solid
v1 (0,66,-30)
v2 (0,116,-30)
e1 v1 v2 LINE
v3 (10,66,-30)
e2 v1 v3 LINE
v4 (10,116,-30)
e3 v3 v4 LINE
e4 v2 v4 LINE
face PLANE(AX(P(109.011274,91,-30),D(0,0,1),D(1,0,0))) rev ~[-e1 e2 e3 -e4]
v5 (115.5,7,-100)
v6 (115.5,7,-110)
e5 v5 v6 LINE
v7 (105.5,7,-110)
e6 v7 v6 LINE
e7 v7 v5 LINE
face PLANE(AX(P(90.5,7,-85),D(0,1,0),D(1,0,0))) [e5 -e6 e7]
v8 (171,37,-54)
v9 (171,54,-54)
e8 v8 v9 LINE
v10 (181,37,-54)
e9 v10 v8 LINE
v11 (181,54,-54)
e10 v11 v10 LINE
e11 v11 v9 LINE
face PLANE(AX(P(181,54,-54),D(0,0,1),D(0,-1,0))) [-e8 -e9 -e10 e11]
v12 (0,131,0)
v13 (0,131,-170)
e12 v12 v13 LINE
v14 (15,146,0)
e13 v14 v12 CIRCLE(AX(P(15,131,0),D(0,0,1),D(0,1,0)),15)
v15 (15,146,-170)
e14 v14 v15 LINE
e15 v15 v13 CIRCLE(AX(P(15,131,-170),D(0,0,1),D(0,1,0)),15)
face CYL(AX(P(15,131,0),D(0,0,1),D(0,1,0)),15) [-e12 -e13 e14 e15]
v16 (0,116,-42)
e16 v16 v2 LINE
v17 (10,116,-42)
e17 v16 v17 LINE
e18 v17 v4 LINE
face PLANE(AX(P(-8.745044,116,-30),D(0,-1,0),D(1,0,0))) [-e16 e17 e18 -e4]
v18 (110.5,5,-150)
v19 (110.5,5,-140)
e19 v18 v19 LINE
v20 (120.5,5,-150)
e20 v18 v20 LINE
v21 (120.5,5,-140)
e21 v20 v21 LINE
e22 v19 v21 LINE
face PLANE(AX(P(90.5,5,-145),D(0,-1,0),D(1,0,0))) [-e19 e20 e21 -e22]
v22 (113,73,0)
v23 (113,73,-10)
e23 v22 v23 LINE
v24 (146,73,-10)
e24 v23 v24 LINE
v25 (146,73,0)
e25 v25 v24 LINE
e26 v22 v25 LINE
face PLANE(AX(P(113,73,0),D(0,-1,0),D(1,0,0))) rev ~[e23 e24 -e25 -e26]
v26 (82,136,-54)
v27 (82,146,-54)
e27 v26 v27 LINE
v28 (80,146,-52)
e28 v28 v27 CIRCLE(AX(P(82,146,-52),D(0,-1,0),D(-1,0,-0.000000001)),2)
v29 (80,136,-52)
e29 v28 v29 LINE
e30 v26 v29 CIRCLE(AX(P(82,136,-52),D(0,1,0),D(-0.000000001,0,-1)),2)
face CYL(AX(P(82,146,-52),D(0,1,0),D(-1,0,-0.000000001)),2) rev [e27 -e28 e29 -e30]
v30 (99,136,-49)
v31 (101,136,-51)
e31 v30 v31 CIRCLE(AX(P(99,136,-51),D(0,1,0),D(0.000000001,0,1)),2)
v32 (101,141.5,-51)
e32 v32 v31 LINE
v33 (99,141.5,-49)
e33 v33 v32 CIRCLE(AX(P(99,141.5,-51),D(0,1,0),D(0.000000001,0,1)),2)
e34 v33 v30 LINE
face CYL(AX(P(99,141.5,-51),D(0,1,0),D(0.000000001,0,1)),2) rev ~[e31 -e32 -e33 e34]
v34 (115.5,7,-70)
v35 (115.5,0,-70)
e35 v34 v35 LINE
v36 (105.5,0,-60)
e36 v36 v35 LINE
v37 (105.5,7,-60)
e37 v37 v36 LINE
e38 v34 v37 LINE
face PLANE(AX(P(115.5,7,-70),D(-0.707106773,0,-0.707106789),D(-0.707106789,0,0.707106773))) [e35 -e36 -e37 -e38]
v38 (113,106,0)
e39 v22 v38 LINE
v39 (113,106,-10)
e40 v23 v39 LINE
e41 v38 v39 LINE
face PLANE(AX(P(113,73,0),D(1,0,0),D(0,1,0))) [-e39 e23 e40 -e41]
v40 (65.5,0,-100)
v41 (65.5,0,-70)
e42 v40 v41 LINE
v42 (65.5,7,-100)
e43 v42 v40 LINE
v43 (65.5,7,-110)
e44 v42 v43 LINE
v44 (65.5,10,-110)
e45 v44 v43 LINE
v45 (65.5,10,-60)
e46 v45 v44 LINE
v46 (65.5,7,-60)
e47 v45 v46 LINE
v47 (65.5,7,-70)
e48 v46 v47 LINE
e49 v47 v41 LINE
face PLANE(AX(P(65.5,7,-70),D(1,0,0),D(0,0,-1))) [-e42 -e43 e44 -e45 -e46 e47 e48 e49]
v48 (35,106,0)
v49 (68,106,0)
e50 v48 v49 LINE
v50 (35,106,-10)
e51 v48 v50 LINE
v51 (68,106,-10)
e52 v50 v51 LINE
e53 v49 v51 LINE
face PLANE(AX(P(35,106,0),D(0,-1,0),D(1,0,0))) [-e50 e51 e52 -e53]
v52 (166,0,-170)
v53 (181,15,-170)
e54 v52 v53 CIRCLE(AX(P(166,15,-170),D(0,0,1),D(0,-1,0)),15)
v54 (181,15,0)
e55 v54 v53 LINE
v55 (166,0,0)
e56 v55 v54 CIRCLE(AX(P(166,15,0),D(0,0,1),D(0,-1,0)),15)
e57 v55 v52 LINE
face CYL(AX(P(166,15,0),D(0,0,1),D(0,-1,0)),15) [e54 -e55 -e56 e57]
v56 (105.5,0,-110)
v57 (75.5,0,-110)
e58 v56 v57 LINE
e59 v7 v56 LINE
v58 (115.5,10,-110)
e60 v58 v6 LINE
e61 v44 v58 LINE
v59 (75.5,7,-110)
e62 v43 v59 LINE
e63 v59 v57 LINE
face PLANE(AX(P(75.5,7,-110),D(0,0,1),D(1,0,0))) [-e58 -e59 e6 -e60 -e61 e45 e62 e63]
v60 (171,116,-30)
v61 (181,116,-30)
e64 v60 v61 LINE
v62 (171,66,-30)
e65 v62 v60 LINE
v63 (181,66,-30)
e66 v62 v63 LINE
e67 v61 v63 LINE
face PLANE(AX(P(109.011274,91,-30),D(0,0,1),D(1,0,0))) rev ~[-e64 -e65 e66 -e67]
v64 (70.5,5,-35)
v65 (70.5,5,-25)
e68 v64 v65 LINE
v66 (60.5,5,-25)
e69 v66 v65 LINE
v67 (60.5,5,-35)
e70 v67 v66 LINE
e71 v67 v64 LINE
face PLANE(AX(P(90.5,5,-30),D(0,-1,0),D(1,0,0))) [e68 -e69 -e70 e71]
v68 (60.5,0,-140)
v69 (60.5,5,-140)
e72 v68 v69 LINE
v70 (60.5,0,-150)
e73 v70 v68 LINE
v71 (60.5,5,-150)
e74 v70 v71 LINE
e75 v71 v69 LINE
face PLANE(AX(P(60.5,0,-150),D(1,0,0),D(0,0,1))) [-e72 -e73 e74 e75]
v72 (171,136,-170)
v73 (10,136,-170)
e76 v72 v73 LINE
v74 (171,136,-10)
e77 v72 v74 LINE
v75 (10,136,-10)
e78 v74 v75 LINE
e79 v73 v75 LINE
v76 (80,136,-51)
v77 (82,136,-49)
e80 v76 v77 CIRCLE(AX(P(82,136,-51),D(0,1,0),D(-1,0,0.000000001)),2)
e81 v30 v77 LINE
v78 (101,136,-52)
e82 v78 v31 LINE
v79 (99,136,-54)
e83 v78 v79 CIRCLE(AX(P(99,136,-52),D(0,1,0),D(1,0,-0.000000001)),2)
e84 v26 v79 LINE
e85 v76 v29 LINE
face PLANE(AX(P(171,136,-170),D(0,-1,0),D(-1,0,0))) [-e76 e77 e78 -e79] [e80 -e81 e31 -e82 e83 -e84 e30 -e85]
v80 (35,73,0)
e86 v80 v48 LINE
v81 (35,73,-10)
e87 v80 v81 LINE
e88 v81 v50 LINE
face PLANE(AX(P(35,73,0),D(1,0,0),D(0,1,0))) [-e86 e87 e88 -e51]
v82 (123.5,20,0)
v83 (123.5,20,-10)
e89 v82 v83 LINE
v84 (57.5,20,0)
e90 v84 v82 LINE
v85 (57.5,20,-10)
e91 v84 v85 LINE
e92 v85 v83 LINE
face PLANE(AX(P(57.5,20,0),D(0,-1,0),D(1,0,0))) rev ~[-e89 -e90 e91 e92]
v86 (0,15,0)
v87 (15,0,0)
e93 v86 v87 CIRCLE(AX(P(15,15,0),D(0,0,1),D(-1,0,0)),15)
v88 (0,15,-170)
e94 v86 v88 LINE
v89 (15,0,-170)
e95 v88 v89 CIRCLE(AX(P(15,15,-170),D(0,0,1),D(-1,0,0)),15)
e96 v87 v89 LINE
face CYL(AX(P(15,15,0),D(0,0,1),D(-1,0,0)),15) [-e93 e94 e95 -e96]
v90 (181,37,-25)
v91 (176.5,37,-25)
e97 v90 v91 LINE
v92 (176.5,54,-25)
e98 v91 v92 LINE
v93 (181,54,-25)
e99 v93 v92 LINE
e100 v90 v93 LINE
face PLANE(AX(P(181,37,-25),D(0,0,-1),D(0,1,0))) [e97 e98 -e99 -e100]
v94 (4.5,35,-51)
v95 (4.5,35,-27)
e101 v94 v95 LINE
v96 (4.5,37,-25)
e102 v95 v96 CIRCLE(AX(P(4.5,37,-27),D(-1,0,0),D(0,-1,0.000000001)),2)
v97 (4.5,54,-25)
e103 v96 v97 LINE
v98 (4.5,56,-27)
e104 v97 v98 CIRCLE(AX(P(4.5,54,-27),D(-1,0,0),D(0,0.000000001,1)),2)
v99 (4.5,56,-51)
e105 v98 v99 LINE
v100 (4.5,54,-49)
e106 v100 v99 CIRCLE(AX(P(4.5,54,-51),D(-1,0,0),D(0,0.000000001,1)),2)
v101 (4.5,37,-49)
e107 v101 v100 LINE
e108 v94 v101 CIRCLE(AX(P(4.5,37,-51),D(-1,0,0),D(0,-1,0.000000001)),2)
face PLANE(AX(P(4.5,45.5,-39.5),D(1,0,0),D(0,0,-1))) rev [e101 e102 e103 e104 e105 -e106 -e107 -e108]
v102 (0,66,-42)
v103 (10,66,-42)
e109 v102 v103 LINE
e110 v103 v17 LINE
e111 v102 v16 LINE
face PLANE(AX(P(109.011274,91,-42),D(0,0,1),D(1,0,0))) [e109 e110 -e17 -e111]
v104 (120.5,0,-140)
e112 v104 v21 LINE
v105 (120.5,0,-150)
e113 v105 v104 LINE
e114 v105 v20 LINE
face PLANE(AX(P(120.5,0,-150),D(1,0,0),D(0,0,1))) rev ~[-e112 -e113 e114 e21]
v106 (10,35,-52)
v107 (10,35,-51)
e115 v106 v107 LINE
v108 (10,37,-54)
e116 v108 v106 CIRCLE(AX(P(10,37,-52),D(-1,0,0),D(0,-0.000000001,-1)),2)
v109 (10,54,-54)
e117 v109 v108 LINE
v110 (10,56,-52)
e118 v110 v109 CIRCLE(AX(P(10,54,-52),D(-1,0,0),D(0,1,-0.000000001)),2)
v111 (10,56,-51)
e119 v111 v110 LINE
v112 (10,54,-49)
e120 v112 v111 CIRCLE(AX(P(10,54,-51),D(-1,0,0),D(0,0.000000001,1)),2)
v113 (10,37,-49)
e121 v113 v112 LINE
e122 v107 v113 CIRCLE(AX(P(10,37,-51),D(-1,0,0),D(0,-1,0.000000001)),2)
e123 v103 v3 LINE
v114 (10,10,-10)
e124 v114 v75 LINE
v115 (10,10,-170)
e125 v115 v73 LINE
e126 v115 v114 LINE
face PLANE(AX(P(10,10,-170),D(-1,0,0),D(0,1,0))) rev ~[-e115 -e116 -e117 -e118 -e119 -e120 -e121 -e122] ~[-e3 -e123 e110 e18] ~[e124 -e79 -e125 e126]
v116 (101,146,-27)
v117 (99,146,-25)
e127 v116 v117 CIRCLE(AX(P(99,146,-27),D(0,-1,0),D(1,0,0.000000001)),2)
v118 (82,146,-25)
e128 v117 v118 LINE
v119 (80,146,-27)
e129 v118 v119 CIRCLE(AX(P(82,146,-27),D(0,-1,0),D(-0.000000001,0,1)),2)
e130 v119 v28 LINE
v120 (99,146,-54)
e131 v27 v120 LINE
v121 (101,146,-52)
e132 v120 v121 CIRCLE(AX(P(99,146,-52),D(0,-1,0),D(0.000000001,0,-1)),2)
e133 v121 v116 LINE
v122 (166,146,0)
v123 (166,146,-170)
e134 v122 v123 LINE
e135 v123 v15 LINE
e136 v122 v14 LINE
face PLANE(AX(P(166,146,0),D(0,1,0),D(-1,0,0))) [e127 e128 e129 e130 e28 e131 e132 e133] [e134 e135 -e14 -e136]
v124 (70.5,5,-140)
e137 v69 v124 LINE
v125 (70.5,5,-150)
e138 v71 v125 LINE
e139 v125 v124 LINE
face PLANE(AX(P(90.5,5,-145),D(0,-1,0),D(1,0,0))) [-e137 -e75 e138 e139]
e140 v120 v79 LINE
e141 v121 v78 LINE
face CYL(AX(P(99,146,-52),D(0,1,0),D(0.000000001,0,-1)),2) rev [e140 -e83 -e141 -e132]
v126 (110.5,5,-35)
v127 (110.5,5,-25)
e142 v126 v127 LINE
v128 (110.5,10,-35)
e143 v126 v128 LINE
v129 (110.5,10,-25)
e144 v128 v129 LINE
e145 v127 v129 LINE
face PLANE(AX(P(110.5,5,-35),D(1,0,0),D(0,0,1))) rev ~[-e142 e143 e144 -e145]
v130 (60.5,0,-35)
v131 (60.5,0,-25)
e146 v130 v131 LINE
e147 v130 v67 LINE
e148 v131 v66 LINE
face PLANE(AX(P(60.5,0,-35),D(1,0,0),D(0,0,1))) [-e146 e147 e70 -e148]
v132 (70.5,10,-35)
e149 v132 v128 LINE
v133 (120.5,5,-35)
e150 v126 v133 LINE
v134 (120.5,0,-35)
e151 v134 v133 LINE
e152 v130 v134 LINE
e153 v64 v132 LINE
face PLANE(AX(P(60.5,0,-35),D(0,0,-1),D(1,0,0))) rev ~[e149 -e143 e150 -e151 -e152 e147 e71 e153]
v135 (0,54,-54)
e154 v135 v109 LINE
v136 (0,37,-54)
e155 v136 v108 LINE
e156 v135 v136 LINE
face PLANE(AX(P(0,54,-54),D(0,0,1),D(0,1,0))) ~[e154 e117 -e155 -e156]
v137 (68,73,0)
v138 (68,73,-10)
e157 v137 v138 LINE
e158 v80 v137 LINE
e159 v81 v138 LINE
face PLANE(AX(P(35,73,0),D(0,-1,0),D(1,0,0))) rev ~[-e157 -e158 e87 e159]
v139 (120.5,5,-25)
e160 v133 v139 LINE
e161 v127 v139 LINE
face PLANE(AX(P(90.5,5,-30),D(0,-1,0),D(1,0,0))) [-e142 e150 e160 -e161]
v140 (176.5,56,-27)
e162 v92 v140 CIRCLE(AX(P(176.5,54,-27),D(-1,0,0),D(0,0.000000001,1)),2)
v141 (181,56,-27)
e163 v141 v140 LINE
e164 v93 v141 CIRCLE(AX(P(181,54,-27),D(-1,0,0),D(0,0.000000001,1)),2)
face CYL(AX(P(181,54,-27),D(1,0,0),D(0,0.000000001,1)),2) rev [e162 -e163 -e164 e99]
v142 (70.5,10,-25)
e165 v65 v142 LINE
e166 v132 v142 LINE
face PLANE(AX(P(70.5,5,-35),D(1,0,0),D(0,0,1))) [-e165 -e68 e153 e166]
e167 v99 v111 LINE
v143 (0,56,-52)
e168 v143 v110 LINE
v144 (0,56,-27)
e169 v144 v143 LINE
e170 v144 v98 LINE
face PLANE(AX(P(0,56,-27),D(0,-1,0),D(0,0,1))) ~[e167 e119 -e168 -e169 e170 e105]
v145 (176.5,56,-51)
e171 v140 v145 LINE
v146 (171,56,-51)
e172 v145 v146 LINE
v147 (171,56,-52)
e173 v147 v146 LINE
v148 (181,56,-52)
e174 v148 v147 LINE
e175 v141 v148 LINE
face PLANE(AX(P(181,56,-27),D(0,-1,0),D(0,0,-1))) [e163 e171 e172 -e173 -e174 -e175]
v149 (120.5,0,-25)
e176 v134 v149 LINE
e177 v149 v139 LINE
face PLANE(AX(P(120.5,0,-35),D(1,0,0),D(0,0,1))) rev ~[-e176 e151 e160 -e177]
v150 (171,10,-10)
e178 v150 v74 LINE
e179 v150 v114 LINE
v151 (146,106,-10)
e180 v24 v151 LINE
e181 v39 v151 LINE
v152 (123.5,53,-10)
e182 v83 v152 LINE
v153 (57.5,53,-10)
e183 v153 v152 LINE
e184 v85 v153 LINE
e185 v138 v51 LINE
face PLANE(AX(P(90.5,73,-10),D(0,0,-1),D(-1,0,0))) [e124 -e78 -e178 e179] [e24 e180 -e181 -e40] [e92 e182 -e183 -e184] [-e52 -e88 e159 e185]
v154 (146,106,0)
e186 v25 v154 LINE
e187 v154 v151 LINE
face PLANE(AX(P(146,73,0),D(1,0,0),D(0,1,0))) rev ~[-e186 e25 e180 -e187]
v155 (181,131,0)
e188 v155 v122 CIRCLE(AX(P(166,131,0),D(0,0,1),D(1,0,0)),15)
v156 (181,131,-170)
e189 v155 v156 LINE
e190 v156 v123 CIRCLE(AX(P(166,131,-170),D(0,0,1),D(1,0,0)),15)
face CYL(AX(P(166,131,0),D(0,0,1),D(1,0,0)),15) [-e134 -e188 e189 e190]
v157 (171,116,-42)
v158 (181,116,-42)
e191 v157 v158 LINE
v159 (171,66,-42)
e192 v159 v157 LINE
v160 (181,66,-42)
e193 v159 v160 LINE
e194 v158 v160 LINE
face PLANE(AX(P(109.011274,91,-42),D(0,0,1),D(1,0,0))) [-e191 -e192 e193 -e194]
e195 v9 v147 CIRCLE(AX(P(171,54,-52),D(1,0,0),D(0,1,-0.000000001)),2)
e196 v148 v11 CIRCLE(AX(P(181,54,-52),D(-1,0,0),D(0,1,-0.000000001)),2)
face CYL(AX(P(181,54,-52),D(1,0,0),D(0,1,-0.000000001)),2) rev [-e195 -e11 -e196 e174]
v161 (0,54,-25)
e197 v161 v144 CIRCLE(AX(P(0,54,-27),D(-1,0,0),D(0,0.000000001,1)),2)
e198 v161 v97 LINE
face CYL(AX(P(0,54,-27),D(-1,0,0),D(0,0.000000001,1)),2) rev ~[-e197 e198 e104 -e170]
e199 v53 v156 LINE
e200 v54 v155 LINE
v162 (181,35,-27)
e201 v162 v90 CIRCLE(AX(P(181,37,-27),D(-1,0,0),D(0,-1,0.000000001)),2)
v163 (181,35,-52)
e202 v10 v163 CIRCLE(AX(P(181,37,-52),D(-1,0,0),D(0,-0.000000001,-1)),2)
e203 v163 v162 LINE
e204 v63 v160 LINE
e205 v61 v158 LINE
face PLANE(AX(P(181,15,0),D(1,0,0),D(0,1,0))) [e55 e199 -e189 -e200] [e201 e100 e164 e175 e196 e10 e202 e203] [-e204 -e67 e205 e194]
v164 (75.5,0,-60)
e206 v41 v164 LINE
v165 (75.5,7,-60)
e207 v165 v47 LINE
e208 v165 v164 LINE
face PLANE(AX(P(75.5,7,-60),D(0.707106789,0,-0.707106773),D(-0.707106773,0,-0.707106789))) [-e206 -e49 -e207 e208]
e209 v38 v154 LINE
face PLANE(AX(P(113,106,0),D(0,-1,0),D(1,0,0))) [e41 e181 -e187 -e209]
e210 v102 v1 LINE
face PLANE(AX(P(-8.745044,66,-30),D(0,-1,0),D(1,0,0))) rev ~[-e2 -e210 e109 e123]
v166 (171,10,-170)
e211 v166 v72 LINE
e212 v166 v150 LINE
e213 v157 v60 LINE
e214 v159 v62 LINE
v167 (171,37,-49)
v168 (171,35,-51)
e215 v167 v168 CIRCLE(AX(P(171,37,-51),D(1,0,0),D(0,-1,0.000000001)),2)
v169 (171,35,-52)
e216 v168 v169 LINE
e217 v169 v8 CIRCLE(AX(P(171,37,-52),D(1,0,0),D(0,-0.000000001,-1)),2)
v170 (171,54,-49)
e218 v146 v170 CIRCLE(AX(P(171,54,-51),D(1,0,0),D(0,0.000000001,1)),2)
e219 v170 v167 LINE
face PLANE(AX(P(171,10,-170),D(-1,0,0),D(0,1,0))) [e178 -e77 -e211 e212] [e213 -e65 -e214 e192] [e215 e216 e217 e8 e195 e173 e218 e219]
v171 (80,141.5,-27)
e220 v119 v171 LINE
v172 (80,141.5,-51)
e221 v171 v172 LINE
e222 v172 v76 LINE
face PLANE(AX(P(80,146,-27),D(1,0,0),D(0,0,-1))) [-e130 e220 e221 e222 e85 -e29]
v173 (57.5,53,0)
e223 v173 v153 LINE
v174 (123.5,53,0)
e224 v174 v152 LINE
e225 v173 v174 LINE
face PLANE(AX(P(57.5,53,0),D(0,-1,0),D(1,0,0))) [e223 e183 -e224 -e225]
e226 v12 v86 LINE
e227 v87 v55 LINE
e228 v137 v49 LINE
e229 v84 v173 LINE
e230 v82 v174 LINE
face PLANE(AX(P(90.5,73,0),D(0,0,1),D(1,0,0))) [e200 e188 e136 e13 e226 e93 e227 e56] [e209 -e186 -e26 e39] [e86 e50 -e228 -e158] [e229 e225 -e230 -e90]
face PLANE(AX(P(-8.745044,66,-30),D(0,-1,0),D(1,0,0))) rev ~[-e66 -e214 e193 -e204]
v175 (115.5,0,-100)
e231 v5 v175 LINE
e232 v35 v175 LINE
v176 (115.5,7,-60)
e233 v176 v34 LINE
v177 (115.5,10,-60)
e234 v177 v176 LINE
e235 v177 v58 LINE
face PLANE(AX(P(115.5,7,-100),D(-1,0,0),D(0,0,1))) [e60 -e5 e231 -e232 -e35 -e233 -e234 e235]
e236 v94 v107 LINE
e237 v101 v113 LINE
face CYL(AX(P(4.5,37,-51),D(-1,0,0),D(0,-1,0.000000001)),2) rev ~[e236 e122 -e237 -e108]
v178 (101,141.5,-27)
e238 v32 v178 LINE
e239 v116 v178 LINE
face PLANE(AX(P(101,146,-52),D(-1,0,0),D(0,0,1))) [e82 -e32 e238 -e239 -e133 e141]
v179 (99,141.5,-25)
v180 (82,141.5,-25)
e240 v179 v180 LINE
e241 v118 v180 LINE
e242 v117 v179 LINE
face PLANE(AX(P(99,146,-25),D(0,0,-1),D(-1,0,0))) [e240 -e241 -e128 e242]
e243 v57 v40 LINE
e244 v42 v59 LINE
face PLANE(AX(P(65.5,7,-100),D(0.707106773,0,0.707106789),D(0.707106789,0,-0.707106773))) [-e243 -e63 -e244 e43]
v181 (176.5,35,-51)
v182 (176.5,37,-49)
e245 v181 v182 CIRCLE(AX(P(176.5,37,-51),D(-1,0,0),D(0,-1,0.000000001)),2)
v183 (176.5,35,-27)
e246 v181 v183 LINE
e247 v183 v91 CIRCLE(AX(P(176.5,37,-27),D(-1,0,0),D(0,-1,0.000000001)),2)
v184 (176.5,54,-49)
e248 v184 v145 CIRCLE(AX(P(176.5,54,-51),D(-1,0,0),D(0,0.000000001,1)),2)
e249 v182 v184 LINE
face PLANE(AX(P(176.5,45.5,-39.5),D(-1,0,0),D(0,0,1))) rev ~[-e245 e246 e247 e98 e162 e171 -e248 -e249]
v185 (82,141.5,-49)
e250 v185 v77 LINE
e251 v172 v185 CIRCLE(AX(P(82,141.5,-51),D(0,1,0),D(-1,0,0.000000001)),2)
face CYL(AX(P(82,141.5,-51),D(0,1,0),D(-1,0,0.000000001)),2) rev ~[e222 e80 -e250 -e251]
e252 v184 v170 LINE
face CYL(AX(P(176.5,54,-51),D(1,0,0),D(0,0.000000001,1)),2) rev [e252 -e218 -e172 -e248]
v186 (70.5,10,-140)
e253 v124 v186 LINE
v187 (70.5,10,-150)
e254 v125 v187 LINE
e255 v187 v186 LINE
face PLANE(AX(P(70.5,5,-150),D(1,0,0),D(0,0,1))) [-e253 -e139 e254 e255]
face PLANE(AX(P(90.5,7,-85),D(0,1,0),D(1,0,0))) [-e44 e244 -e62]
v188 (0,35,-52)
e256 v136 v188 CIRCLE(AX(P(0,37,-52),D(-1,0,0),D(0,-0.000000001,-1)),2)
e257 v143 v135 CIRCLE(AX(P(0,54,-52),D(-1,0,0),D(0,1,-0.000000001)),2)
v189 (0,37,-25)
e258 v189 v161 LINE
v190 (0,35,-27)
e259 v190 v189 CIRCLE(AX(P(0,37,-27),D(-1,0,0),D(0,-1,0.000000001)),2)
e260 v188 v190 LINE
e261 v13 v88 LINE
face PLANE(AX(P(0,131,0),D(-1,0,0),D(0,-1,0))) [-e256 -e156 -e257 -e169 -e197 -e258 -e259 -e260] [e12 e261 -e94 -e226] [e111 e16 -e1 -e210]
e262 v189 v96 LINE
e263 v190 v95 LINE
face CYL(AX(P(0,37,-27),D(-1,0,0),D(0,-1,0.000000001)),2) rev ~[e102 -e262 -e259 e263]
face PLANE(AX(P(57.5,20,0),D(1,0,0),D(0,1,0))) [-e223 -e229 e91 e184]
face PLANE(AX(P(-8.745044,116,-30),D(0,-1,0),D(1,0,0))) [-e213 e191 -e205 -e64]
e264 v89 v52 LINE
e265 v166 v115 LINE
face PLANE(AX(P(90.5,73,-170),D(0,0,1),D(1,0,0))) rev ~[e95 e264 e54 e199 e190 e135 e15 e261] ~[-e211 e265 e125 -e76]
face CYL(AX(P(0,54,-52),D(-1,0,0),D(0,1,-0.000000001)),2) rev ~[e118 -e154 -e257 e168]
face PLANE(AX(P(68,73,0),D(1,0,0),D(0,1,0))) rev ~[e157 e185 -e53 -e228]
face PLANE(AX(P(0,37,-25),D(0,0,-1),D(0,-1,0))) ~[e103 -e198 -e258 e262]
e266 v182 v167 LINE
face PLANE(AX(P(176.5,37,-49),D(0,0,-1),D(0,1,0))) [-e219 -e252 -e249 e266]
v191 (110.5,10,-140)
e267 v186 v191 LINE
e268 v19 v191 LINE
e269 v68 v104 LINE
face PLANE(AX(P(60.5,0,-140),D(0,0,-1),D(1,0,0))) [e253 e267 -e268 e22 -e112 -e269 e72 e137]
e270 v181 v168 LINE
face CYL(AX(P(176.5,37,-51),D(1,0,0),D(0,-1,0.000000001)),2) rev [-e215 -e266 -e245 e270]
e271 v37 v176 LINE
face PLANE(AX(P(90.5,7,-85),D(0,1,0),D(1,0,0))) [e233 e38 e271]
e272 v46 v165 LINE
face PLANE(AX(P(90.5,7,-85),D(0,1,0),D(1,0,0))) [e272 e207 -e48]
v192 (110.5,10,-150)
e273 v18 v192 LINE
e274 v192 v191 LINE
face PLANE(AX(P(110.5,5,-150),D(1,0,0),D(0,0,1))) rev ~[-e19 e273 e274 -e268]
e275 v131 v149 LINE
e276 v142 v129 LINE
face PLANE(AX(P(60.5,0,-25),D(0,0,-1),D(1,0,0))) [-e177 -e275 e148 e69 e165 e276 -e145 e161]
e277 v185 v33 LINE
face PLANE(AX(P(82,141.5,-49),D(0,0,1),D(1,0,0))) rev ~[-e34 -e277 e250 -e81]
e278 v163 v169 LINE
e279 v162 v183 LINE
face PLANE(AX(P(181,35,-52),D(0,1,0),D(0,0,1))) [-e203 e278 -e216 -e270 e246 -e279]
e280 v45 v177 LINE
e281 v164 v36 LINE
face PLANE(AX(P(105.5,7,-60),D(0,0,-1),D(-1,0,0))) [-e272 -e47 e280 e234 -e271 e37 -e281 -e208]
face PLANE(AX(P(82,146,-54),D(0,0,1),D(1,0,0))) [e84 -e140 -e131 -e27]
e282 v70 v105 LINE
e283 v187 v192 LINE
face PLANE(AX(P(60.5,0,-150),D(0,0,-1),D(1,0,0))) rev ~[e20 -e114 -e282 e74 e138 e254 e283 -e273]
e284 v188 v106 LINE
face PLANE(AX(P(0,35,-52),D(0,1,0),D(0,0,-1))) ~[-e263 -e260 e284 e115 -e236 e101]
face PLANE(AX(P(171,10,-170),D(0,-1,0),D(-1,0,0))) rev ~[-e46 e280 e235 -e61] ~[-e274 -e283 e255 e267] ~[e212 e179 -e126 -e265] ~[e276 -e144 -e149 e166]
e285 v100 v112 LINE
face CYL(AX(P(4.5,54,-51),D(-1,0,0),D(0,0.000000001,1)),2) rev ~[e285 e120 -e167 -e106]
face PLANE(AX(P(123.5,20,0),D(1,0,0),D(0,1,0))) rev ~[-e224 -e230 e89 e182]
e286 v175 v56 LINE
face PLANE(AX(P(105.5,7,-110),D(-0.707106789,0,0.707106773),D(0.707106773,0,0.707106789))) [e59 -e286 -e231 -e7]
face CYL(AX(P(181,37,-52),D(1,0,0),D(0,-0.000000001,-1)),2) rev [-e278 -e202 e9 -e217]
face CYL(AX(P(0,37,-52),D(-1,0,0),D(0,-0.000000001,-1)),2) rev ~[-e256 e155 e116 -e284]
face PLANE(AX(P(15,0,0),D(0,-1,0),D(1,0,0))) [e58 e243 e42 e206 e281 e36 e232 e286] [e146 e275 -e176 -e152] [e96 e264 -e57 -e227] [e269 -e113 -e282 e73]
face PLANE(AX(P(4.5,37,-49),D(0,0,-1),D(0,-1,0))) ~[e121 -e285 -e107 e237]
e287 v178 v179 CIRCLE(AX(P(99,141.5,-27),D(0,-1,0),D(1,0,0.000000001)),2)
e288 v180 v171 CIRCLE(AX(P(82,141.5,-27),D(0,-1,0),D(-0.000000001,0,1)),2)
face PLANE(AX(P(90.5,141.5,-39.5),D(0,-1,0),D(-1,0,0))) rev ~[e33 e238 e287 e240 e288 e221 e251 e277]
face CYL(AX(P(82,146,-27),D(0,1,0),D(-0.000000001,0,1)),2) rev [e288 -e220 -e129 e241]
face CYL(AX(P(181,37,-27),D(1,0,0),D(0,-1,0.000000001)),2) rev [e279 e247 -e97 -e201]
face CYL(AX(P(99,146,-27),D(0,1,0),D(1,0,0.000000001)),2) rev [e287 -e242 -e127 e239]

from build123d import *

# Parameters (mm, degrees)
SKETCH1_W           = 66
SKETCH1_H           = 33
SKETCH1_W_2         = 33
BOSS_EXTRUDE1_DEPTH = 170
SKETCH3_W           = 161
SKETCH3_H           = 126
CUT_EXTRUDE1_DEPTH  = 160
CUT_EXTRUDE2_DEPTH  = 4.5
CUT_EXTRUDE3_DEPTH  = 18.5
SKETCH6_W           = 235.512636351
SKETCH6_H           = 50
CUT_EXTRUDE4_DEPTH  = 12
CUT_EXTRUDE5_DEPTH  = 4.5
CUT_EXTRUDE6_DEPTH  = 10
SKETCH9_W           = 60
SKETCH9_H           = 10
CUT_EXTRUDE7_DEPTH  = 5
SKETCH10_W          = 40
SKETCH10_H          = 10
CUT_EXTRUDE8_DEPTH  = 5
SKETCH11_W          = 50
SKETCH11_H          = 50
CUT_EXTRUDE11_DEPTH = 3
CUT_EXTRUDE12_DEPTH = 10


with BuildPart() as part:
    # Sketch1 → Boss-Extrude1 (new body)
    with BuildSketch(Plane.XY):
        with BuildLine():
            Line((15, 0), (166, 0))
            ThreePointArc((166, 0), (176.606601718, 4.393398282), (181, 15))
            Line((181, 15), (181, 131))
            ThreePointArc((181, 131), (176.606601718, 141.606601718), (166, 146))
            Line((166, 146), (15, 146))
            ThreePointArc((15, 146), (4.393398282, 141.606601718), (0, 131))
            Line((0, 131), (0, 15))
            ThreePointArc((0, 15), (4.393398282, 4.393398282), (15, 0))
        make_face()
        with Locations((90.5, 36.5)):
            Rectangle(SKETCH1_W, SKETCH1_H, mode=Mode.SUBTRACT)
        with Locations((51.5, 89.5)):
            Rectangle(SKETCH1_W_2, SKETCH1_H, mode=Mode.SUBTRACT)
        with Locations((129.5, 89.5)):
            Rectangle(SKETCH1_W_2, SKETCH1_H, mode=Mode.SUBTRACT)
    extrude(amount=-BOSS_EXTRUDE1_DEPTH)

    # Sketch3 → Cut-Extrude1 (cut)
    with BuildSketch(Plane(origin=(0, 0, -170), x_dir=(-1, 0, 0), z_dir=(0, 0, -1))):
        with Locations((-90.5, 73)):
            Rectangle(SKETCH3_W, SKETCH3_H)
    extrude(amount=-CUT_EXTRUDE1_DEPTH, mode=Mode.SUBTRACT)

    # Sketch4 → Cut-Extrude2 (cut)
    with BuildSketch(Plane(origin=(0, 146, 0), x_dir=(1, 0, 0), z_dir=(0, 1, 0))):
        with BuildLine():
            Line((82, 54), (99, 54))
            ThreePointArc((99, 54), (100.414213562, 53.414213562), (101, 52))
            Line((101, 52), (101, 27))
            ThreePointArc((101, 27), (100.414213562, 25.585786438), (99, 25))
            Line((99, 25), (82, 25))
            ThreePointArc((82, 25), (80.585786438, 25.585786438), (80, 27))
            Line((80, 27), (80, 52))
            ThreePointArc((80, 52), (80.585786438, 53.414213562), (82, 54))
        make_face()
    extrude(amount=-CUT_EXTRUDE2_DEPTH, mode=Mode.SUBTRACT)

    # Sketch5 → Cut-Extrude3 (cut)
    with BuildSketch(Plane(origin=(0, 141.5, 0), x_dir=(1, 0, 0), z_dir=(0, 1, 0))):
        with BuildLine():
            Line((82, 49), (99, 49))
            ThreePointArc((99, 49), (100.414213562, 49.585786438), (101, 51))
            Line((101, 51), (101, 52))
            ThreePointArc((101, 52), (100.414213562, 53.414213562), (99, 54))
            Line((99, 54), (82, 54))
            ThreePointArc((82, 54), (80.585786438, 53.414213562), (80, 52))
            Line((80, 52), (80, 51))
            ThreePointArc((80, 51), (80.585786438, 49.585786438), (82, 49))
        make_face()
    extrude(amount=-CUT_EXTRUDE3_DEPTH, mode=Mode.SUBTRACT)

    # Sketch6 → Cut-Extrude4 (cut)
    with BuildSketch(Plane.XY.offset(-30)):
        with Locations((109.011273796, 91)):
            Rectangle(SKETCH6_W, SKETCH6_H)
    extrude(amount=-CUT_EXTRUDE4_DEPTH, mode=Mode.SUBTRACT)

    # Sketch7 → Cut-Extrude5 (cut)
    with BuildSketch(Plane(origin=(181, 0, 0), x_dir=(0, 0, -1), z_dir=(1, 0, 0))):
        with BuildLine():
            Line((27, 56), (52, 56))
            ThreePointArc((52, 56), (53.414213562, 55.414213562), (54, 54))
            Line((54, 54), (54, 37))
            ThreePointArc((54, 37), (53.414213562, 35.585786438), (52, 35))
            Line((52, 35), (27, 35))
            ThreePointArc((27, 35), (25.585786438, 35.585786438), (25, 37))
            Line((25, 37), (25, 54))
            ThreePointArc((25, 54), (25.585786438, 55.414213562), (27, 56))
        make_face()
    cut_extrude5 = extrude(amount=-CUT_EXTRUDE5_DEPTH, mode=Mode.SUBTRACT)

    # Sketch8 → Cut-Extrude6 (cut)
    with BuildSketch(Plane(origin=(176.5, 0, 0), x_dir=(0, 0, -1), z_dir=(1, 0, 0))):
        with BuildLine():
            Line((51, 56), (52, 56))
            ThreePointArc((52, 56), (53.414213562, 55.414213562), (54, 54))
            Line((54, 54), (54, 37))
            ThreePointArc((54, 37), (53.414213562, 35.585786438), (52, 35))
            Line((52, 35), (51, 35))
            ThreePointArc((51, 35), (49.585786438, 35.585786438), (49, 37))
            Line((49, 37), (49, 54))
            ThreePointArc((49, 54), (49.585786438, 55.414213562), (51, 56))
        make_face()
    cut_extrude6 = extrude(amount=-CUT_EXTRUDE6_DEPTH, mode=Mode.SUBTRACT)

    # Mirror1: Cut-Extrude5, Cut-Extrude6 across plane
    add(cut_extrude5.mirror(Plane(origin=(90.5, 0, 0), x_dir=(0, 0, 1), z_dir=(1, 0, 0))), mode=Mode.SUBTRACT)
    add(cut_extrude6.mirror(Plane(origin=(90.5, 0, 0), x_dir=(0, 0, 1), z_dir=(1, 0, 0))), mode=Mode.SUBTRACT)

    # Sketch9 → Cut-Extrude7 (cut)
    with BuildSketch(Plane.XZ):
        with Locations((90.5, -30)):
            Rectangle(SKETCH9_W, SKETCH9_H)
        with Locations((90.5, -145)):
            Rectangle(SKETCH9_W, SKETCH9_H)
    extrude(amount=-CUT_EXTRUDE7_DEPTH, mode=Mode.SUBTRACT)

    # Sketch10 → Cut-Extrude8 (cut)
    with BuildSketch(Plane.XZ.offset(-5)):
        with Locations((90.5, -30)):
            Rectangle(SKETCH10_W, SKETCH10_H)
        with Locations((90.5, -145)):
            Rectangle(SKETCH10_W, SKETCH10_H)
    extrude(amount=-CUT_EXTRUDE8_DEPTH, mode=Mode.SUBTRACT)

    # Sketch11 → Cut-Extrude11 (cut)
    with BuildSketch(Plane(origin=(0, 10, 0), x_dir=(1, 0, 0), z_dir=(0, 1, 0))):
        with Locations((90.5, 85)):
            Rectangle(SKETCH11_W, SKETCH11_H)
    extrude(amount=-CUT_EXTRUDE11_DEPTH, mode=Mode.SUBTRACT)

    # Sketch12 → Cut-Extrude12 (cut)
    with BuildSketch(Plane(origin=(0, 7, 0), x_dir=(1, 0, 0), z_dir=(0, 1, 0))):
        Polygon((75.5, 110), (105.5, 110), (115.5, 99.999999773), (115.5, 69.999999773), (105.5, 60), (75.5, 60), (65.5, 70.000000227), (65.5, 100.000000227), align=None)
    extrude(amount=-CUT_EXTRUDE12_DEPTH, mode=Mode.SUBTRACT)


solid = part.part
